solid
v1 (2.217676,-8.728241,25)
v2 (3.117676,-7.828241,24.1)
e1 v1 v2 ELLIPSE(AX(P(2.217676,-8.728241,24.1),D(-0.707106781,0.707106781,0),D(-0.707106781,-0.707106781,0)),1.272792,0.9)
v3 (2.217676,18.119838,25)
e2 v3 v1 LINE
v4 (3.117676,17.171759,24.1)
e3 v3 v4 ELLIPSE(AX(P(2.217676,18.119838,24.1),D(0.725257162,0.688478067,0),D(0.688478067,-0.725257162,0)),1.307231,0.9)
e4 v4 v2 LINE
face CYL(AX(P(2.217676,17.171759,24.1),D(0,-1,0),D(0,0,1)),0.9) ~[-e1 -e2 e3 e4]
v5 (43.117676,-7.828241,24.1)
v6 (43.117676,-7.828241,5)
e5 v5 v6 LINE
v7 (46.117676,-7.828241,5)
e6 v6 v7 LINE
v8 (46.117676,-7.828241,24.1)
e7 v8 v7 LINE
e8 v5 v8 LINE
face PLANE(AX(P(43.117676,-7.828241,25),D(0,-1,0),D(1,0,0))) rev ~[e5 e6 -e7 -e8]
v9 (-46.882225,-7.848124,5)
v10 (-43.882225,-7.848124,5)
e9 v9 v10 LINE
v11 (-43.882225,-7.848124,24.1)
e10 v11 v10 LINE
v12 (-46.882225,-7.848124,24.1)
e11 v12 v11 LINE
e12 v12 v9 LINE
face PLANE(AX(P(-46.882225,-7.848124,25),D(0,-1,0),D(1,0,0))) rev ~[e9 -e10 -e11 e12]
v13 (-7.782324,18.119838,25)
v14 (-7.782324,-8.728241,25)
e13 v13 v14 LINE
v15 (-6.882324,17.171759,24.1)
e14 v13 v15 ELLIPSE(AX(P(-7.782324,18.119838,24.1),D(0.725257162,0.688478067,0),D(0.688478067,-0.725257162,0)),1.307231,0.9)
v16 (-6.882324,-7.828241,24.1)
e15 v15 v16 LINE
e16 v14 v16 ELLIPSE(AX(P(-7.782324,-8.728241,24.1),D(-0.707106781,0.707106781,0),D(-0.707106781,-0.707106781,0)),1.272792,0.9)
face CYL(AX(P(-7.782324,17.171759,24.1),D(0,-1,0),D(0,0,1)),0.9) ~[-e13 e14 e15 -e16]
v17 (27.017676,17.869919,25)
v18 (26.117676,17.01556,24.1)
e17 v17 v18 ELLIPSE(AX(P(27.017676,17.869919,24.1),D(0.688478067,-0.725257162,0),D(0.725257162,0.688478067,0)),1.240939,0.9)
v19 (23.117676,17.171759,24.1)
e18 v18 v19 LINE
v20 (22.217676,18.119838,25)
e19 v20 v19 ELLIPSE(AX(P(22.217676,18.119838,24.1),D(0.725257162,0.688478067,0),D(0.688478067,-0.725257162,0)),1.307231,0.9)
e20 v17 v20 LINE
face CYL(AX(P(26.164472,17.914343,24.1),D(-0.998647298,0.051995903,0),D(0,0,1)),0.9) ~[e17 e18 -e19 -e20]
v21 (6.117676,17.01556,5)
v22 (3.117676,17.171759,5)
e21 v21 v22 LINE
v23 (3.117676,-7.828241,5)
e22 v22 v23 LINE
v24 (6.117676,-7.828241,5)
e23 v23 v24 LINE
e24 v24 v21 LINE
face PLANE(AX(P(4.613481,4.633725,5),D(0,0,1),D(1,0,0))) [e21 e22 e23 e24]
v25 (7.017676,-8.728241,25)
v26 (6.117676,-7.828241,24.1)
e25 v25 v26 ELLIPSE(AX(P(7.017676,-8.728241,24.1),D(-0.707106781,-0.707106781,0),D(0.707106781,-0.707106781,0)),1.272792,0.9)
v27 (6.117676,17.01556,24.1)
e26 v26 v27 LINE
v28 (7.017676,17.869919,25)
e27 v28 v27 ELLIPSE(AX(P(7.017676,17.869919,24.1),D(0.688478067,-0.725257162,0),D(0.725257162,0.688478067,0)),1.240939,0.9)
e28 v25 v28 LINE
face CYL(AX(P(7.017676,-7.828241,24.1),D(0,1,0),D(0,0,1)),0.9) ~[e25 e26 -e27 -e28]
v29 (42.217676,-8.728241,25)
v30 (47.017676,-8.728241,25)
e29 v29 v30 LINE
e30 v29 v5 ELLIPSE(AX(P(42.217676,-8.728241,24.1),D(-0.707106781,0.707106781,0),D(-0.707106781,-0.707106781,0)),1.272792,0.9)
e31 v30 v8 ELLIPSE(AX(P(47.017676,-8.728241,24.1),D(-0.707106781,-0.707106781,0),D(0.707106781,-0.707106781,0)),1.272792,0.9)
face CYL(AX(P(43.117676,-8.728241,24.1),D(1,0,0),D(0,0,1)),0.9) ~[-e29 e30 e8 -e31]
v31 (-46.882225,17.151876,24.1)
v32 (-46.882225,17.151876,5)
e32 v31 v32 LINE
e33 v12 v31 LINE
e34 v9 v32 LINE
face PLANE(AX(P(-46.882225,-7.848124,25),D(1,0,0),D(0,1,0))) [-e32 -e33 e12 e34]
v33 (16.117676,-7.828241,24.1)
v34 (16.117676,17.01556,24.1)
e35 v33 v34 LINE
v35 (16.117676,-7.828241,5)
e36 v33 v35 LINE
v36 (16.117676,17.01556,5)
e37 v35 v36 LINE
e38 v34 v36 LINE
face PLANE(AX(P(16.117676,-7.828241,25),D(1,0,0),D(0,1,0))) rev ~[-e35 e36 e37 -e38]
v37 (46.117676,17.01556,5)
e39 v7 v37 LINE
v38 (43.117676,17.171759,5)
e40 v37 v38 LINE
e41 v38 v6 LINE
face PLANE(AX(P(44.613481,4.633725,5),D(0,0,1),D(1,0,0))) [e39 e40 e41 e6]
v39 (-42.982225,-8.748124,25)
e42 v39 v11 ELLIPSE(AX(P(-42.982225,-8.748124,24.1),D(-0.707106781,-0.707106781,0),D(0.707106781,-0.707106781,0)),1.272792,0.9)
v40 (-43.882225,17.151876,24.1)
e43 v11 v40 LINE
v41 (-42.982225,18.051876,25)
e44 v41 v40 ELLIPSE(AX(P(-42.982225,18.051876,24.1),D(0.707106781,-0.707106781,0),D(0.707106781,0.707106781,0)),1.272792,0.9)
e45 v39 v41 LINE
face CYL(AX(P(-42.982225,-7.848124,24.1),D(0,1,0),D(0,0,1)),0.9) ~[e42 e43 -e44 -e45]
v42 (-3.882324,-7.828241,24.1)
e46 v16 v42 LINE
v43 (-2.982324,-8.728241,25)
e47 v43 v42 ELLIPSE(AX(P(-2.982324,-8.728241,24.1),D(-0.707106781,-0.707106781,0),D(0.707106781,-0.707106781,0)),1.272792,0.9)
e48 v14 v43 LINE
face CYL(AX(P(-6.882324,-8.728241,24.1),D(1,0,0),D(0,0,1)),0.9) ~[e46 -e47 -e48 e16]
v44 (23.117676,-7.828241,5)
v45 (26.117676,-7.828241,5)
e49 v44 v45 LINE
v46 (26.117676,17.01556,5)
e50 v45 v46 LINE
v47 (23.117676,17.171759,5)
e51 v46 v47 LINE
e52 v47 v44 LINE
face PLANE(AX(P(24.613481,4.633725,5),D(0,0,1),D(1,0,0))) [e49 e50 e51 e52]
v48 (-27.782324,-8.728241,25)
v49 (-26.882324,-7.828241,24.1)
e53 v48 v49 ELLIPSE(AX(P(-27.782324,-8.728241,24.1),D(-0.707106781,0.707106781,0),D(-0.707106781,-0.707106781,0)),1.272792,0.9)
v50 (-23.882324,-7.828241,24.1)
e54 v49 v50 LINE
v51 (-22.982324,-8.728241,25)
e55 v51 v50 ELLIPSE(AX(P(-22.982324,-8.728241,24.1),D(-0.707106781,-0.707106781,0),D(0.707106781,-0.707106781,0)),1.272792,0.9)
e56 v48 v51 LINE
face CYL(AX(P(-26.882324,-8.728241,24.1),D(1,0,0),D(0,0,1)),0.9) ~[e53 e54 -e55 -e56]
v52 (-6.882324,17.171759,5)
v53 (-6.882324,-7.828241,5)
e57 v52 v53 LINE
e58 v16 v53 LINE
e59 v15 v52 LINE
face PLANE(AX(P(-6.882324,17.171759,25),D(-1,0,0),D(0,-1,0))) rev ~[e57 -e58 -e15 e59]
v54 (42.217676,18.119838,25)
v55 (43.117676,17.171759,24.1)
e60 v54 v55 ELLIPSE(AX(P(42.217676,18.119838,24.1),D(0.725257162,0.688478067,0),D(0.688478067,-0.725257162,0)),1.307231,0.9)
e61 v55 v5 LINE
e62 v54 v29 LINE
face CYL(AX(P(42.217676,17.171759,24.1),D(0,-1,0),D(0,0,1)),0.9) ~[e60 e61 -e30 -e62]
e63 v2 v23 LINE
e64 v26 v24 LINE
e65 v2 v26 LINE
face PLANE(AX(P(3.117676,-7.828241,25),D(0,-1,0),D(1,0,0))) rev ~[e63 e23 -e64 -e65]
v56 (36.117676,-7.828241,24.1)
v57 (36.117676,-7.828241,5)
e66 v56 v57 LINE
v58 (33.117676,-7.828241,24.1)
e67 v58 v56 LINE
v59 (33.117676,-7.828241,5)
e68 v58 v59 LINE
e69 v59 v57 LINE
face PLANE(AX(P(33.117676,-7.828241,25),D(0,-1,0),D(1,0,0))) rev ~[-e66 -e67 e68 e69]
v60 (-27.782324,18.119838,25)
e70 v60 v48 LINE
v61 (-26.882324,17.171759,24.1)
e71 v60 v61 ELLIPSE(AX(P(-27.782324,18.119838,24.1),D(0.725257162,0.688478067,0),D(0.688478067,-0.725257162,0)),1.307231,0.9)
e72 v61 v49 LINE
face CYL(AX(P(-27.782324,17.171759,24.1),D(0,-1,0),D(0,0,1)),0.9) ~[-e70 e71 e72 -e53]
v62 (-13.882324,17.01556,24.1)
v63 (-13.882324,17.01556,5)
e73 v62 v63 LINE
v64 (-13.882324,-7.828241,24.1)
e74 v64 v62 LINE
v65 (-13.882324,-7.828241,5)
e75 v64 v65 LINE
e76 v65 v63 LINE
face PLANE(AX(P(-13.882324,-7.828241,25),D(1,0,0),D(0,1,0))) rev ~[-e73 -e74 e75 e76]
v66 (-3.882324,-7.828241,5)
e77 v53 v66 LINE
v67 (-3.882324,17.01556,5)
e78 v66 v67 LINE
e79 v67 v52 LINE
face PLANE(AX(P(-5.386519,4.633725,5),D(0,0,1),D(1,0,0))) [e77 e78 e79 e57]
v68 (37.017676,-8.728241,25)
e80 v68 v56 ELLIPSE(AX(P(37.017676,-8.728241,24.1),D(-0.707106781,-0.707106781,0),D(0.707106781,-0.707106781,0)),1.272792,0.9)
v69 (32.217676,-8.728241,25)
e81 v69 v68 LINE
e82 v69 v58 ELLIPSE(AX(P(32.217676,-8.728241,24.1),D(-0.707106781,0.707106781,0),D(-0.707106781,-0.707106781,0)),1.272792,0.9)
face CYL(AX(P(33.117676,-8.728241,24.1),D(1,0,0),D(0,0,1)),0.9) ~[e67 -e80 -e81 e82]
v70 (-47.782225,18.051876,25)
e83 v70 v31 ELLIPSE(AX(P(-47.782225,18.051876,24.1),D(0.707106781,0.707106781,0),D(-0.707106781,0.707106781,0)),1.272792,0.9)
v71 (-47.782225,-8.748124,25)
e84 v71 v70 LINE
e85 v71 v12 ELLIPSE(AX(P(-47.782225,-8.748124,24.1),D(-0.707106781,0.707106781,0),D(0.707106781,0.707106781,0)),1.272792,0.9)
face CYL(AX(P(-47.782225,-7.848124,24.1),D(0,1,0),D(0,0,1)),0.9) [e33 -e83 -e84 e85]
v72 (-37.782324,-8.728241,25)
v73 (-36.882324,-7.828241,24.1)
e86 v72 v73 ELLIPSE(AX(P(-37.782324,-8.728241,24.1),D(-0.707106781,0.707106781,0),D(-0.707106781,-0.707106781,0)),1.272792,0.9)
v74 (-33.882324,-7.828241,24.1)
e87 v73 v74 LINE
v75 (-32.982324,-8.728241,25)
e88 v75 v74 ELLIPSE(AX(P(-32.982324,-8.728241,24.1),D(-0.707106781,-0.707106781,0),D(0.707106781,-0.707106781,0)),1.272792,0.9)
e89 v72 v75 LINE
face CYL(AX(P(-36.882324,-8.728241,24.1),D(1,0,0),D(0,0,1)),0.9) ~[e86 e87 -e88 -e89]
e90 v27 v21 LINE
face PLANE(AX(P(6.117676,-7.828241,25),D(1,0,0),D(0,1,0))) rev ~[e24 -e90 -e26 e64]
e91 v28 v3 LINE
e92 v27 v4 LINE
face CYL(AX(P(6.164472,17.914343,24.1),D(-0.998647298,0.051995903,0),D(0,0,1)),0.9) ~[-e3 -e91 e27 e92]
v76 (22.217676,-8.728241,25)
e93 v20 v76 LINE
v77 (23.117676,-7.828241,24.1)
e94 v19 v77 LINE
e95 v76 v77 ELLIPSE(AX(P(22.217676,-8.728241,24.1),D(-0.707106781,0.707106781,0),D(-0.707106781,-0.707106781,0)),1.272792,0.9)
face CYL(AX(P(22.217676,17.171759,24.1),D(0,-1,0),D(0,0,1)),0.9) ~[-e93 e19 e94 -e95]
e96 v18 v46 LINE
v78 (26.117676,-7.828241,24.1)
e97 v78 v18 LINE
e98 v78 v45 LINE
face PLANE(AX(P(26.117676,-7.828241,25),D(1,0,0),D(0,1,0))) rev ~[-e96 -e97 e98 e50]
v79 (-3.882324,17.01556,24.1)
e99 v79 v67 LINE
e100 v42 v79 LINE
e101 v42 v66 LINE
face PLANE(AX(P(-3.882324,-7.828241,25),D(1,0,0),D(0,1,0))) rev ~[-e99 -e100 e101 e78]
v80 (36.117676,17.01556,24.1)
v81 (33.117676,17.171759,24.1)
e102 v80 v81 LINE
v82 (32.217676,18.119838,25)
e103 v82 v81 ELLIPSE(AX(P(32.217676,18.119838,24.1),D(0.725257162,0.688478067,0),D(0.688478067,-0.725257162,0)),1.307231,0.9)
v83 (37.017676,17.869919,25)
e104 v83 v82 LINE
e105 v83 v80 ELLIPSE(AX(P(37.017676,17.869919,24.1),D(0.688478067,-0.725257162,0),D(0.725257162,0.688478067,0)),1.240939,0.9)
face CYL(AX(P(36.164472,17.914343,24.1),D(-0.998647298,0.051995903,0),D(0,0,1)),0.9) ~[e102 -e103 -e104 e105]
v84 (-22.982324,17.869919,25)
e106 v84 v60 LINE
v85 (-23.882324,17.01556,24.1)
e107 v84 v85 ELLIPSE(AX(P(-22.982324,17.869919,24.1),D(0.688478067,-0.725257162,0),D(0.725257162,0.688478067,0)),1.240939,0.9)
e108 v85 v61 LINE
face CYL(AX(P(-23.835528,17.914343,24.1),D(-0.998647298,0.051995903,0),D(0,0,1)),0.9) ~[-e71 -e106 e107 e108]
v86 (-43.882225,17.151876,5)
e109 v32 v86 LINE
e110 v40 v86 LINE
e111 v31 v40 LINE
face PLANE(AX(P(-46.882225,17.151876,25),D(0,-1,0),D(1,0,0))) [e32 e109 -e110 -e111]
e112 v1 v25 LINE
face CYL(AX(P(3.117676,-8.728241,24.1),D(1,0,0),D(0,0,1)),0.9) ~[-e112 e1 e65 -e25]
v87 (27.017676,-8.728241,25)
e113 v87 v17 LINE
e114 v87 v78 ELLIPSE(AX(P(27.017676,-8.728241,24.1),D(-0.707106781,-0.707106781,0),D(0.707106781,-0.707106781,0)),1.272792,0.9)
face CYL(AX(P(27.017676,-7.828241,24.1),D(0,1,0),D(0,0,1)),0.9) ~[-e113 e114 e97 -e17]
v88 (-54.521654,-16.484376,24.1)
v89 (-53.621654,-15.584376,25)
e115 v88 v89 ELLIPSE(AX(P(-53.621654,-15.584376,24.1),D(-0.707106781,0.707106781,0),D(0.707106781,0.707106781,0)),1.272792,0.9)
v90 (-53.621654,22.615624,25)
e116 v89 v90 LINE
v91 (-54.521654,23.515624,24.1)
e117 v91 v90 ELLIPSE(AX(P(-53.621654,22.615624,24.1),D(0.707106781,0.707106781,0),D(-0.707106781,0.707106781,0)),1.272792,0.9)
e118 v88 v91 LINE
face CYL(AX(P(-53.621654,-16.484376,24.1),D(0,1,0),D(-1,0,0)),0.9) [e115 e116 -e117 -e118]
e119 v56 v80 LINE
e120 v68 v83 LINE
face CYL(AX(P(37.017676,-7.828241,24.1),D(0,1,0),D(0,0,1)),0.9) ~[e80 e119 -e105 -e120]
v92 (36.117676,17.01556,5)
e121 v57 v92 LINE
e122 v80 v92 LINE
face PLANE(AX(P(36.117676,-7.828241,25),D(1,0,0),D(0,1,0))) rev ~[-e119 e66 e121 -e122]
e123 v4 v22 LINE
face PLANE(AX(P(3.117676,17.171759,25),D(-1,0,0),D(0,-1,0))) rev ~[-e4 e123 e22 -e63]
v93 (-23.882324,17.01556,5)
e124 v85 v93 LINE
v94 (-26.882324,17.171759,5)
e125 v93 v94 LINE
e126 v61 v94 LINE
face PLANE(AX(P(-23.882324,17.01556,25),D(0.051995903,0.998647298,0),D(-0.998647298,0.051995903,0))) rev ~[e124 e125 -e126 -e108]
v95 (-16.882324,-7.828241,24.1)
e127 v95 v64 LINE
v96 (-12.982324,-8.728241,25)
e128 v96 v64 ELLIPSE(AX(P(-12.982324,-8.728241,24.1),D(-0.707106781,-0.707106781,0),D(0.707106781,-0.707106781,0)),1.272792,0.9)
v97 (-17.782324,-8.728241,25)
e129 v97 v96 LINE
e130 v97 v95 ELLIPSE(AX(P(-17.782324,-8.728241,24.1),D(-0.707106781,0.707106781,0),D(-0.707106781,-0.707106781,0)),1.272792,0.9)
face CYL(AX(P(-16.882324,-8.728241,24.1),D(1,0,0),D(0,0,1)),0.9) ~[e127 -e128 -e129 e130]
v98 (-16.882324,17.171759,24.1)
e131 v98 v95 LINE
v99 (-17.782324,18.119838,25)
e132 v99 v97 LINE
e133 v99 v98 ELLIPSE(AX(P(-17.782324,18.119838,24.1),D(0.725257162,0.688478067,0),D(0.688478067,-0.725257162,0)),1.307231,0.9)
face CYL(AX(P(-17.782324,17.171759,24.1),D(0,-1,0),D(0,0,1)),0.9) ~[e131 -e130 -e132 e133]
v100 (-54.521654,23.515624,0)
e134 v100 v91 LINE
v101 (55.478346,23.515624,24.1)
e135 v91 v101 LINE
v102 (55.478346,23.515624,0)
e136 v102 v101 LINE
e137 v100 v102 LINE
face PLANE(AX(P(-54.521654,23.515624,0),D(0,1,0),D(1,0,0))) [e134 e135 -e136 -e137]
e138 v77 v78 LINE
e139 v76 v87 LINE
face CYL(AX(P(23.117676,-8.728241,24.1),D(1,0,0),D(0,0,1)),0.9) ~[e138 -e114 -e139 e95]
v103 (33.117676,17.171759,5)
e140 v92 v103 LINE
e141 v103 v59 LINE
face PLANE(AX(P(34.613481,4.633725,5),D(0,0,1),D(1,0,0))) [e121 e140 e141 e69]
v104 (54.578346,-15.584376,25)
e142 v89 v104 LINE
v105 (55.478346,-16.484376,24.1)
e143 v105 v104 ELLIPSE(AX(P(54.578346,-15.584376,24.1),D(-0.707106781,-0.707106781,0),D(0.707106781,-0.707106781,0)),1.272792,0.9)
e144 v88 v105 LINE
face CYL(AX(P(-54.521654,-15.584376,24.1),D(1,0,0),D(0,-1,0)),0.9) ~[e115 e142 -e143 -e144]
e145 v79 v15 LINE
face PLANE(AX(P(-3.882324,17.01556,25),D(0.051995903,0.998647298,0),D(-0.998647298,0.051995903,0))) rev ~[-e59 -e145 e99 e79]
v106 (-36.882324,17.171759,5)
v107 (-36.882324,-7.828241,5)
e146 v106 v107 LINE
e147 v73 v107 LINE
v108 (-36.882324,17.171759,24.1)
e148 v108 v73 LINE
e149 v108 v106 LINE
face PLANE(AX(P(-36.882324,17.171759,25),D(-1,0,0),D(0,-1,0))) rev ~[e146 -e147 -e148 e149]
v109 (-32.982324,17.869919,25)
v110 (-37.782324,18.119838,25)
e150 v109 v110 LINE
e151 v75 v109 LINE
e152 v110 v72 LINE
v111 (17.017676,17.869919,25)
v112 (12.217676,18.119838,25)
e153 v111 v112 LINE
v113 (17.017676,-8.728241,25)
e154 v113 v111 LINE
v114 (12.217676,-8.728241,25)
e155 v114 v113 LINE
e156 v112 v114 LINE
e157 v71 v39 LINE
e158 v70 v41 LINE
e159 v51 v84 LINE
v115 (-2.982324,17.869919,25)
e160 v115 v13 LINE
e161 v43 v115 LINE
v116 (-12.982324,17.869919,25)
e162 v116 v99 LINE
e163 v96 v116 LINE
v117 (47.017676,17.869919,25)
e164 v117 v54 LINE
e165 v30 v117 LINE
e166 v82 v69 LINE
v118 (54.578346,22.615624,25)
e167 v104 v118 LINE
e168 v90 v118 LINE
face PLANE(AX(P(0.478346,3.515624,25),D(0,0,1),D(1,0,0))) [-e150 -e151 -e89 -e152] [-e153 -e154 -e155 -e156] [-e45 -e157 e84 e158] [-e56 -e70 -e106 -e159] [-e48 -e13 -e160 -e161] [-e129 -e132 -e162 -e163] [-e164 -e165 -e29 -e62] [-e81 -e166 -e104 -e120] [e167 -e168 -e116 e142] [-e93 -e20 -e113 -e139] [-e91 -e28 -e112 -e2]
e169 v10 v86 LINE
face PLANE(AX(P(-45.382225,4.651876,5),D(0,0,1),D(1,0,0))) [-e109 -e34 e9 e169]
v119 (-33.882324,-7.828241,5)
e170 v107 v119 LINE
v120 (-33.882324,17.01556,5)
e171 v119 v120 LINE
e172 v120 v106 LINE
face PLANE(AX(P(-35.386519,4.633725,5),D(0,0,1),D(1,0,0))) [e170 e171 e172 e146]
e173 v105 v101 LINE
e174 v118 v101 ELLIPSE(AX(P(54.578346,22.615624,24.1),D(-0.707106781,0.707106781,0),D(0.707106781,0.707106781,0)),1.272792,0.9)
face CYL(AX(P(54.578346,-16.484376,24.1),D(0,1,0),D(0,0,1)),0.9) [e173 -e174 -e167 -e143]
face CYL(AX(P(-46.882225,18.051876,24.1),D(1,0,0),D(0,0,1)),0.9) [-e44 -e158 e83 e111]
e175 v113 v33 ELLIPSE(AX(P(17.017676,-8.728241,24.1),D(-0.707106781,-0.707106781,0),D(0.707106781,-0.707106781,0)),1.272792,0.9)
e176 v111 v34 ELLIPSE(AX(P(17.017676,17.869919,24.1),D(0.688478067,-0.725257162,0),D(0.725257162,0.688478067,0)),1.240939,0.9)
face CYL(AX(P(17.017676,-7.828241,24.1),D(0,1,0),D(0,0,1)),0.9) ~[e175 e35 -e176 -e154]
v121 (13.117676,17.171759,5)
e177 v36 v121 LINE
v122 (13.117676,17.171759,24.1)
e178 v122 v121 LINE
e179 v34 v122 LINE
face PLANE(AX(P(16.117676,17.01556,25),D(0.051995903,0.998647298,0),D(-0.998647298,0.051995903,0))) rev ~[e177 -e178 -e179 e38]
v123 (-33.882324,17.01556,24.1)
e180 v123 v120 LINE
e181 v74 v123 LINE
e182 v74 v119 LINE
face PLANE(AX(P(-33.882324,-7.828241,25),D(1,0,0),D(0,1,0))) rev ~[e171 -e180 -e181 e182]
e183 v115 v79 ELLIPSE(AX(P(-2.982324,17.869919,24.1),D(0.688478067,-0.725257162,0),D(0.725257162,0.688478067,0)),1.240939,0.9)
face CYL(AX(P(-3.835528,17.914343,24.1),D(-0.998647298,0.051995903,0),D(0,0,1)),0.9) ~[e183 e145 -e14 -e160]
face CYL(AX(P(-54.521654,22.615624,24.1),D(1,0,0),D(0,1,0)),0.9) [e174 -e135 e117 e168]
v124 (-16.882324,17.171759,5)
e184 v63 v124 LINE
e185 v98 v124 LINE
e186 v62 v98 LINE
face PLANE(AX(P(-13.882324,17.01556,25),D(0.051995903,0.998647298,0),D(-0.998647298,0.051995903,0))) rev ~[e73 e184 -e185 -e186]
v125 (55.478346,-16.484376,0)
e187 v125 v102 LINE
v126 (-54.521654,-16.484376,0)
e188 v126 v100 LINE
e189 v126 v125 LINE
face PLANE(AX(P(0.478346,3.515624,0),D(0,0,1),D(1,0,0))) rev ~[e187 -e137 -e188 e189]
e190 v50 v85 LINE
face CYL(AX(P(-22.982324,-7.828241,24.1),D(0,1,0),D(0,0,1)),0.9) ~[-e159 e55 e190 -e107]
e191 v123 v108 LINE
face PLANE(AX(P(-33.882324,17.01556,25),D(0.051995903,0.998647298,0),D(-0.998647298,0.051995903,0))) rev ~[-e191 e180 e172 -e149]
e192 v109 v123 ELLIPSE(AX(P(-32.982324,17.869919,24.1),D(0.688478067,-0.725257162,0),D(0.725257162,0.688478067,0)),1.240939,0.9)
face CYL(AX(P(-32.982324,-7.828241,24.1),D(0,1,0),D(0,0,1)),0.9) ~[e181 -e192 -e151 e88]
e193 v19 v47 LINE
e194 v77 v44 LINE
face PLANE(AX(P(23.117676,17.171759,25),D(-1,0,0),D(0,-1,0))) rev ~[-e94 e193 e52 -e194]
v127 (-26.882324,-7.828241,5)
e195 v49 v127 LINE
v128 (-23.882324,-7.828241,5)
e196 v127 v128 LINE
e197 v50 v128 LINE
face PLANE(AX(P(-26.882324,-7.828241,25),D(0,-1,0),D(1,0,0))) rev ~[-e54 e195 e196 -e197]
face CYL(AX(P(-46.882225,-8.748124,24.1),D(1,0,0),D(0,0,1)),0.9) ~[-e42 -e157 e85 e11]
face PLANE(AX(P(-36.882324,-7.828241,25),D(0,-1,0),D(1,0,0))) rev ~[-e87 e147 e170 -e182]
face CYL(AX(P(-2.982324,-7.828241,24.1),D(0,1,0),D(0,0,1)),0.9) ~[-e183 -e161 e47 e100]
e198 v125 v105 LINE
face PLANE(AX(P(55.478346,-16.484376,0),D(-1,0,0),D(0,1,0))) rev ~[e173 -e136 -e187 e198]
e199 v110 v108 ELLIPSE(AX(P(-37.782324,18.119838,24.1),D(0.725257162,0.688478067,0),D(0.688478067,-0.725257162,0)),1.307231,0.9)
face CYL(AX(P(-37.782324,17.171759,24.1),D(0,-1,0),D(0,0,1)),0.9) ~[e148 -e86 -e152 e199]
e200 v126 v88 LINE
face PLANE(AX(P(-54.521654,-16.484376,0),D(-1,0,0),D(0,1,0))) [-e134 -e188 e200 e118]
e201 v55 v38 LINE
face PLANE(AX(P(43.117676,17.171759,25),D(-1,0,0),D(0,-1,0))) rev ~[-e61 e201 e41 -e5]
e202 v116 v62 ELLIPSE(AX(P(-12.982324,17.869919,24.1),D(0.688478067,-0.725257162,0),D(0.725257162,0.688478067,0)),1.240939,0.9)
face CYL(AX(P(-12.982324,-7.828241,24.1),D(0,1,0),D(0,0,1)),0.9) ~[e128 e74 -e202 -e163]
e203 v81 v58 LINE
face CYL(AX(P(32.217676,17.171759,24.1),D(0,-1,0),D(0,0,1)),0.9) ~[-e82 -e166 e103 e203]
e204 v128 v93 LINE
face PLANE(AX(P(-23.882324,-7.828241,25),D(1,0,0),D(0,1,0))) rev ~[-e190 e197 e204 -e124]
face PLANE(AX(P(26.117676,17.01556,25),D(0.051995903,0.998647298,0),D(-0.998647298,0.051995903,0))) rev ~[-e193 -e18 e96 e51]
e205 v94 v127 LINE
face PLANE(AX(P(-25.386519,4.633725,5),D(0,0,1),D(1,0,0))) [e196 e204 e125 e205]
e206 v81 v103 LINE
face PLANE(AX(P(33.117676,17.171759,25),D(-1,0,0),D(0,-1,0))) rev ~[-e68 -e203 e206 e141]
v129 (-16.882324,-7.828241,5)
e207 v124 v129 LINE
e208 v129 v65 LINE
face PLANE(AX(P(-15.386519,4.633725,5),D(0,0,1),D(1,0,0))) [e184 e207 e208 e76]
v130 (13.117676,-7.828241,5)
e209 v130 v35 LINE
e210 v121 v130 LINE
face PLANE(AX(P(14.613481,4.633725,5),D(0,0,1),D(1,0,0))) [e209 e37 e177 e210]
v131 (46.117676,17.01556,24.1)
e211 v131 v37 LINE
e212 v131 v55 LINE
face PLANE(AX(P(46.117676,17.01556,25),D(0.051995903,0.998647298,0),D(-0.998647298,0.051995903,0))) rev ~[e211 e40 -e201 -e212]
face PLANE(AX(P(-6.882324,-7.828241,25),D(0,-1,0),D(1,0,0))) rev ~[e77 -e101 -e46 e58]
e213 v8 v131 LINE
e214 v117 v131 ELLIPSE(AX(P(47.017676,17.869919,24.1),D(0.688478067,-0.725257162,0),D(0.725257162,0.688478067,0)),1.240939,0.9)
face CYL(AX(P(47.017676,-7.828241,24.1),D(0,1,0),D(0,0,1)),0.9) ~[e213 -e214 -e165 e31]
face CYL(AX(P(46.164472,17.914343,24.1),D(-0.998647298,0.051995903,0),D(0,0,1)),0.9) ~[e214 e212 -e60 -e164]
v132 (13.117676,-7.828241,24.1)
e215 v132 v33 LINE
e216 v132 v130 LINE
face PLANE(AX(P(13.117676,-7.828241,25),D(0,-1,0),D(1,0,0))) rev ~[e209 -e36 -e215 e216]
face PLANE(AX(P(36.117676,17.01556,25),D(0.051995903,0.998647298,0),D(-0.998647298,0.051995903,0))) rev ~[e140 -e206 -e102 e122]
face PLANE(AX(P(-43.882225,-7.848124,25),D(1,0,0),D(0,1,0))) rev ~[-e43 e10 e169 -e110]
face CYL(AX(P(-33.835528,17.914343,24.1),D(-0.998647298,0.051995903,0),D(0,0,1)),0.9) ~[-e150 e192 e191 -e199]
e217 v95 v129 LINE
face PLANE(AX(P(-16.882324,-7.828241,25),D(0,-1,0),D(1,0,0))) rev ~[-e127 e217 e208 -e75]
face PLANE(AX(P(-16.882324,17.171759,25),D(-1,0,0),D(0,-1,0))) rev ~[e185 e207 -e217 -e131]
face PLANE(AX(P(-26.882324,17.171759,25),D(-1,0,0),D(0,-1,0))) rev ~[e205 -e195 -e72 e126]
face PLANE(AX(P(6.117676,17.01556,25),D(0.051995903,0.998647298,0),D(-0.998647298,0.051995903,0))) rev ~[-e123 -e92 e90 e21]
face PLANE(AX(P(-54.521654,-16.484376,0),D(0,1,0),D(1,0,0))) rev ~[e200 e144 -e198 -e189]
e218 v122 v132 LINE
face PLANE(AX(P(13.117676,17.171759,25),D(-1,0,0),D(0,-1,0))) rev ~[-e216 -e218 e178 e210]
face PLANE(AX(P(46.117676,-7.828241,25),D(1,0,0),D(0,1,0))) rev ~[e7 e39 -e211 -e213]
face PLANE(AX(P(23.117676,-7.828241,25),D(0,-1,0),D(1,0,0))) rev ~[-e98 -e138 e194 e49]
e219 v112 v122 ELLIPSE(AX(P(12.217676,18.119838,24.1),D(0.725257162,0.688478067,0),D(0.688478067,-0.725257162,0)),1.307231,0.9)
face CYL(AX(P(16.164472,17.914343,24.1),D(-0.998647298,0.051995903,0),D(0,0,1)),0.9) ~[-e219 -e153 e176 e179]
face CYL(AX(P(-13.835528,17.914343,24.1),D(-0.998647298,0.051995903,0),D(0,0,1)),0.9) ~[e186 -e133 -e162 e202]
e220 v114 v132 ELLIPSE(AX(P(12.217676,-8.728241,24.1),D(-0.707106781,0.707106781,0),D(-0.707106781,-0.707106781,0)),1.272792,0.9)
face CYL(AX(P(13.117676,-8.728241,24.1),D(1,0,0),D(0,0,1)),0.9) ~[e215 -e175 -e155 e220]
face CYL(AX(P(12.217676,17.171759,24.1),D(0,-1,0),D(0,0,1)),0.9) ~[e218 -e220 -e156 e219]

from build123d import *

# Parameters (mm, degrees)
F0_W     = 110
F0_H     = 40
F1_DEPTH = 25
F2_W     = 3
F2_H     = 25
F3_DEPTH = 20
F4_R     = 0.9


with BuildPart() as f1:
    # F0 (on Top) → F1 (new body)
    with BuildSketch(Plane.XY):
        with Locations((0.478346, 3.515624)):
            Rectangle(F0_W, F0_H)
    extrude(amount=F1_DEPTH)

    # F2 (on face) → F3 (cut)
    with BuildSketch(Plane.XY.offset(25)):
        with Locations((-45.382225, 4.651876)):
            Rectangle(F2_W, F2_H)
        Polygon((-36.882324, 17.171759), (-36.882324, -7.828241), (-33.882324, -7.828241), (-33.882324, 17.01556), align=None)
        Polygon((-26.882324, 17.171759), (-26.882324, -7.828241), (-23.882324, -7.828241), (-23.882324, 17.01556), align=None)
        Polygon((-16.882324, 17.171759), (-16.882324, -7.828241), (-13.882324, -7.828241), (-13.882324, 17.01556), align=None)
        Polygon((-6.882324, 17.171759), (-6.882324, -7.828241), (-3.882324, -7.828241), (-3.882324, 17.01556), align=None)
        Polygon((3.117676, 17.171759), (3.117676, -7.828241), (6.117676, -7.828241), (6.117676, 17.01556), align=None)
        Polygon((13.117676, 17.171759), (13.117676, -7.828241), (16.117676, -7.828241), (16.117676, 17.01556), align=None)
        Polygon((23.117676, 17.171759), (23.117676, -7.828241), (26.117676, -7.828241), (26.117676, 17.01556), align=None)
        Polygon((33.117676, 17.171759), (33.117676, -7.828241), (36.117676, -7.828241), (36.117676, 17.01556), align=None)
        Polygon((43.117676, 17.171759), (43.117676, -7.828241), (46.117676, -7.828241), (46.117676, 17.01556), align=None)
    extrude(amount=-F3_DEPTH, mode=Mode.SUBTRACT)

    # F4
    f4_edges = [f1.edges().sort_by_distance(p)[0] for p in [
        (0.478346, -16.484376, 25),
        (-54.521654, 3.515624, 25),
        (55.478346, 3.515624, 25),
        (0.478346, 23.515624, 25),
        (-46.882225, 4.651876, 25),
        (-45.382225, -7.848124, 25),
        (-43.882225, 4.651876, 25),
        (-45.382225, 17.151876, 25),
        (-36.882324, 4.671759, 25),
        (-35.382324, -7.828241, 25),
        (-33.882324, 4.593659, 25),
        (-35.382324, 17.093659, 25),
        (-26.882324, 4.671759, 25),
        (-25.382324, -7.828241, 25),
        (-23.882324, 4.593659, 25),
        (-25.382324, 17.093659, 25),
        (-16.882324, 4.671759, 25),
        (-15.382324, -7.828241, 25),
        (-13.882324, 4.593659, 25),
        (-15.382324, 17.093659, 25),
        (-6.882324, 4.671759, 25),
        (-5.382324, -7.828241, 25),
        (-3.882324, 4.593659, 25),
        (-5.382324, 17.093659, 25),
        (3.117676, 4.671759, 25),
        (4.617676, -7.828241, 25),
        (6.117676, 4.593659, 25),
        (4.617676, 17.093659, 25),
        (13.117676, 4.671759, 25),
        (14.617676, -7.828241, 25),
        (16.117676, 4.593659, 25),
        (14.617676, 17.093659, 25),
        (23.117676, 4.671759, 25),
        (24.617676, -7.828241, 25),
        (26.117676, 4.593659, 25),
        (24.617676, 17.093659, 25),
        (33.117676, 4.671759, 25),
        (34.617676, -7.828241, 25),
        (36.117676, 4.593659, 25),
        (34.617676, 17.093659, 25),
        (43.117676, 4.671759, 25),
        (44.617676, -7.828241, 25),
        (46.117676, 4.593659, 25),
        (44.617676, 17.093659, 25),
    ]]
    fillet(f4_edges, radius=F4_R)


solid = f1.part
